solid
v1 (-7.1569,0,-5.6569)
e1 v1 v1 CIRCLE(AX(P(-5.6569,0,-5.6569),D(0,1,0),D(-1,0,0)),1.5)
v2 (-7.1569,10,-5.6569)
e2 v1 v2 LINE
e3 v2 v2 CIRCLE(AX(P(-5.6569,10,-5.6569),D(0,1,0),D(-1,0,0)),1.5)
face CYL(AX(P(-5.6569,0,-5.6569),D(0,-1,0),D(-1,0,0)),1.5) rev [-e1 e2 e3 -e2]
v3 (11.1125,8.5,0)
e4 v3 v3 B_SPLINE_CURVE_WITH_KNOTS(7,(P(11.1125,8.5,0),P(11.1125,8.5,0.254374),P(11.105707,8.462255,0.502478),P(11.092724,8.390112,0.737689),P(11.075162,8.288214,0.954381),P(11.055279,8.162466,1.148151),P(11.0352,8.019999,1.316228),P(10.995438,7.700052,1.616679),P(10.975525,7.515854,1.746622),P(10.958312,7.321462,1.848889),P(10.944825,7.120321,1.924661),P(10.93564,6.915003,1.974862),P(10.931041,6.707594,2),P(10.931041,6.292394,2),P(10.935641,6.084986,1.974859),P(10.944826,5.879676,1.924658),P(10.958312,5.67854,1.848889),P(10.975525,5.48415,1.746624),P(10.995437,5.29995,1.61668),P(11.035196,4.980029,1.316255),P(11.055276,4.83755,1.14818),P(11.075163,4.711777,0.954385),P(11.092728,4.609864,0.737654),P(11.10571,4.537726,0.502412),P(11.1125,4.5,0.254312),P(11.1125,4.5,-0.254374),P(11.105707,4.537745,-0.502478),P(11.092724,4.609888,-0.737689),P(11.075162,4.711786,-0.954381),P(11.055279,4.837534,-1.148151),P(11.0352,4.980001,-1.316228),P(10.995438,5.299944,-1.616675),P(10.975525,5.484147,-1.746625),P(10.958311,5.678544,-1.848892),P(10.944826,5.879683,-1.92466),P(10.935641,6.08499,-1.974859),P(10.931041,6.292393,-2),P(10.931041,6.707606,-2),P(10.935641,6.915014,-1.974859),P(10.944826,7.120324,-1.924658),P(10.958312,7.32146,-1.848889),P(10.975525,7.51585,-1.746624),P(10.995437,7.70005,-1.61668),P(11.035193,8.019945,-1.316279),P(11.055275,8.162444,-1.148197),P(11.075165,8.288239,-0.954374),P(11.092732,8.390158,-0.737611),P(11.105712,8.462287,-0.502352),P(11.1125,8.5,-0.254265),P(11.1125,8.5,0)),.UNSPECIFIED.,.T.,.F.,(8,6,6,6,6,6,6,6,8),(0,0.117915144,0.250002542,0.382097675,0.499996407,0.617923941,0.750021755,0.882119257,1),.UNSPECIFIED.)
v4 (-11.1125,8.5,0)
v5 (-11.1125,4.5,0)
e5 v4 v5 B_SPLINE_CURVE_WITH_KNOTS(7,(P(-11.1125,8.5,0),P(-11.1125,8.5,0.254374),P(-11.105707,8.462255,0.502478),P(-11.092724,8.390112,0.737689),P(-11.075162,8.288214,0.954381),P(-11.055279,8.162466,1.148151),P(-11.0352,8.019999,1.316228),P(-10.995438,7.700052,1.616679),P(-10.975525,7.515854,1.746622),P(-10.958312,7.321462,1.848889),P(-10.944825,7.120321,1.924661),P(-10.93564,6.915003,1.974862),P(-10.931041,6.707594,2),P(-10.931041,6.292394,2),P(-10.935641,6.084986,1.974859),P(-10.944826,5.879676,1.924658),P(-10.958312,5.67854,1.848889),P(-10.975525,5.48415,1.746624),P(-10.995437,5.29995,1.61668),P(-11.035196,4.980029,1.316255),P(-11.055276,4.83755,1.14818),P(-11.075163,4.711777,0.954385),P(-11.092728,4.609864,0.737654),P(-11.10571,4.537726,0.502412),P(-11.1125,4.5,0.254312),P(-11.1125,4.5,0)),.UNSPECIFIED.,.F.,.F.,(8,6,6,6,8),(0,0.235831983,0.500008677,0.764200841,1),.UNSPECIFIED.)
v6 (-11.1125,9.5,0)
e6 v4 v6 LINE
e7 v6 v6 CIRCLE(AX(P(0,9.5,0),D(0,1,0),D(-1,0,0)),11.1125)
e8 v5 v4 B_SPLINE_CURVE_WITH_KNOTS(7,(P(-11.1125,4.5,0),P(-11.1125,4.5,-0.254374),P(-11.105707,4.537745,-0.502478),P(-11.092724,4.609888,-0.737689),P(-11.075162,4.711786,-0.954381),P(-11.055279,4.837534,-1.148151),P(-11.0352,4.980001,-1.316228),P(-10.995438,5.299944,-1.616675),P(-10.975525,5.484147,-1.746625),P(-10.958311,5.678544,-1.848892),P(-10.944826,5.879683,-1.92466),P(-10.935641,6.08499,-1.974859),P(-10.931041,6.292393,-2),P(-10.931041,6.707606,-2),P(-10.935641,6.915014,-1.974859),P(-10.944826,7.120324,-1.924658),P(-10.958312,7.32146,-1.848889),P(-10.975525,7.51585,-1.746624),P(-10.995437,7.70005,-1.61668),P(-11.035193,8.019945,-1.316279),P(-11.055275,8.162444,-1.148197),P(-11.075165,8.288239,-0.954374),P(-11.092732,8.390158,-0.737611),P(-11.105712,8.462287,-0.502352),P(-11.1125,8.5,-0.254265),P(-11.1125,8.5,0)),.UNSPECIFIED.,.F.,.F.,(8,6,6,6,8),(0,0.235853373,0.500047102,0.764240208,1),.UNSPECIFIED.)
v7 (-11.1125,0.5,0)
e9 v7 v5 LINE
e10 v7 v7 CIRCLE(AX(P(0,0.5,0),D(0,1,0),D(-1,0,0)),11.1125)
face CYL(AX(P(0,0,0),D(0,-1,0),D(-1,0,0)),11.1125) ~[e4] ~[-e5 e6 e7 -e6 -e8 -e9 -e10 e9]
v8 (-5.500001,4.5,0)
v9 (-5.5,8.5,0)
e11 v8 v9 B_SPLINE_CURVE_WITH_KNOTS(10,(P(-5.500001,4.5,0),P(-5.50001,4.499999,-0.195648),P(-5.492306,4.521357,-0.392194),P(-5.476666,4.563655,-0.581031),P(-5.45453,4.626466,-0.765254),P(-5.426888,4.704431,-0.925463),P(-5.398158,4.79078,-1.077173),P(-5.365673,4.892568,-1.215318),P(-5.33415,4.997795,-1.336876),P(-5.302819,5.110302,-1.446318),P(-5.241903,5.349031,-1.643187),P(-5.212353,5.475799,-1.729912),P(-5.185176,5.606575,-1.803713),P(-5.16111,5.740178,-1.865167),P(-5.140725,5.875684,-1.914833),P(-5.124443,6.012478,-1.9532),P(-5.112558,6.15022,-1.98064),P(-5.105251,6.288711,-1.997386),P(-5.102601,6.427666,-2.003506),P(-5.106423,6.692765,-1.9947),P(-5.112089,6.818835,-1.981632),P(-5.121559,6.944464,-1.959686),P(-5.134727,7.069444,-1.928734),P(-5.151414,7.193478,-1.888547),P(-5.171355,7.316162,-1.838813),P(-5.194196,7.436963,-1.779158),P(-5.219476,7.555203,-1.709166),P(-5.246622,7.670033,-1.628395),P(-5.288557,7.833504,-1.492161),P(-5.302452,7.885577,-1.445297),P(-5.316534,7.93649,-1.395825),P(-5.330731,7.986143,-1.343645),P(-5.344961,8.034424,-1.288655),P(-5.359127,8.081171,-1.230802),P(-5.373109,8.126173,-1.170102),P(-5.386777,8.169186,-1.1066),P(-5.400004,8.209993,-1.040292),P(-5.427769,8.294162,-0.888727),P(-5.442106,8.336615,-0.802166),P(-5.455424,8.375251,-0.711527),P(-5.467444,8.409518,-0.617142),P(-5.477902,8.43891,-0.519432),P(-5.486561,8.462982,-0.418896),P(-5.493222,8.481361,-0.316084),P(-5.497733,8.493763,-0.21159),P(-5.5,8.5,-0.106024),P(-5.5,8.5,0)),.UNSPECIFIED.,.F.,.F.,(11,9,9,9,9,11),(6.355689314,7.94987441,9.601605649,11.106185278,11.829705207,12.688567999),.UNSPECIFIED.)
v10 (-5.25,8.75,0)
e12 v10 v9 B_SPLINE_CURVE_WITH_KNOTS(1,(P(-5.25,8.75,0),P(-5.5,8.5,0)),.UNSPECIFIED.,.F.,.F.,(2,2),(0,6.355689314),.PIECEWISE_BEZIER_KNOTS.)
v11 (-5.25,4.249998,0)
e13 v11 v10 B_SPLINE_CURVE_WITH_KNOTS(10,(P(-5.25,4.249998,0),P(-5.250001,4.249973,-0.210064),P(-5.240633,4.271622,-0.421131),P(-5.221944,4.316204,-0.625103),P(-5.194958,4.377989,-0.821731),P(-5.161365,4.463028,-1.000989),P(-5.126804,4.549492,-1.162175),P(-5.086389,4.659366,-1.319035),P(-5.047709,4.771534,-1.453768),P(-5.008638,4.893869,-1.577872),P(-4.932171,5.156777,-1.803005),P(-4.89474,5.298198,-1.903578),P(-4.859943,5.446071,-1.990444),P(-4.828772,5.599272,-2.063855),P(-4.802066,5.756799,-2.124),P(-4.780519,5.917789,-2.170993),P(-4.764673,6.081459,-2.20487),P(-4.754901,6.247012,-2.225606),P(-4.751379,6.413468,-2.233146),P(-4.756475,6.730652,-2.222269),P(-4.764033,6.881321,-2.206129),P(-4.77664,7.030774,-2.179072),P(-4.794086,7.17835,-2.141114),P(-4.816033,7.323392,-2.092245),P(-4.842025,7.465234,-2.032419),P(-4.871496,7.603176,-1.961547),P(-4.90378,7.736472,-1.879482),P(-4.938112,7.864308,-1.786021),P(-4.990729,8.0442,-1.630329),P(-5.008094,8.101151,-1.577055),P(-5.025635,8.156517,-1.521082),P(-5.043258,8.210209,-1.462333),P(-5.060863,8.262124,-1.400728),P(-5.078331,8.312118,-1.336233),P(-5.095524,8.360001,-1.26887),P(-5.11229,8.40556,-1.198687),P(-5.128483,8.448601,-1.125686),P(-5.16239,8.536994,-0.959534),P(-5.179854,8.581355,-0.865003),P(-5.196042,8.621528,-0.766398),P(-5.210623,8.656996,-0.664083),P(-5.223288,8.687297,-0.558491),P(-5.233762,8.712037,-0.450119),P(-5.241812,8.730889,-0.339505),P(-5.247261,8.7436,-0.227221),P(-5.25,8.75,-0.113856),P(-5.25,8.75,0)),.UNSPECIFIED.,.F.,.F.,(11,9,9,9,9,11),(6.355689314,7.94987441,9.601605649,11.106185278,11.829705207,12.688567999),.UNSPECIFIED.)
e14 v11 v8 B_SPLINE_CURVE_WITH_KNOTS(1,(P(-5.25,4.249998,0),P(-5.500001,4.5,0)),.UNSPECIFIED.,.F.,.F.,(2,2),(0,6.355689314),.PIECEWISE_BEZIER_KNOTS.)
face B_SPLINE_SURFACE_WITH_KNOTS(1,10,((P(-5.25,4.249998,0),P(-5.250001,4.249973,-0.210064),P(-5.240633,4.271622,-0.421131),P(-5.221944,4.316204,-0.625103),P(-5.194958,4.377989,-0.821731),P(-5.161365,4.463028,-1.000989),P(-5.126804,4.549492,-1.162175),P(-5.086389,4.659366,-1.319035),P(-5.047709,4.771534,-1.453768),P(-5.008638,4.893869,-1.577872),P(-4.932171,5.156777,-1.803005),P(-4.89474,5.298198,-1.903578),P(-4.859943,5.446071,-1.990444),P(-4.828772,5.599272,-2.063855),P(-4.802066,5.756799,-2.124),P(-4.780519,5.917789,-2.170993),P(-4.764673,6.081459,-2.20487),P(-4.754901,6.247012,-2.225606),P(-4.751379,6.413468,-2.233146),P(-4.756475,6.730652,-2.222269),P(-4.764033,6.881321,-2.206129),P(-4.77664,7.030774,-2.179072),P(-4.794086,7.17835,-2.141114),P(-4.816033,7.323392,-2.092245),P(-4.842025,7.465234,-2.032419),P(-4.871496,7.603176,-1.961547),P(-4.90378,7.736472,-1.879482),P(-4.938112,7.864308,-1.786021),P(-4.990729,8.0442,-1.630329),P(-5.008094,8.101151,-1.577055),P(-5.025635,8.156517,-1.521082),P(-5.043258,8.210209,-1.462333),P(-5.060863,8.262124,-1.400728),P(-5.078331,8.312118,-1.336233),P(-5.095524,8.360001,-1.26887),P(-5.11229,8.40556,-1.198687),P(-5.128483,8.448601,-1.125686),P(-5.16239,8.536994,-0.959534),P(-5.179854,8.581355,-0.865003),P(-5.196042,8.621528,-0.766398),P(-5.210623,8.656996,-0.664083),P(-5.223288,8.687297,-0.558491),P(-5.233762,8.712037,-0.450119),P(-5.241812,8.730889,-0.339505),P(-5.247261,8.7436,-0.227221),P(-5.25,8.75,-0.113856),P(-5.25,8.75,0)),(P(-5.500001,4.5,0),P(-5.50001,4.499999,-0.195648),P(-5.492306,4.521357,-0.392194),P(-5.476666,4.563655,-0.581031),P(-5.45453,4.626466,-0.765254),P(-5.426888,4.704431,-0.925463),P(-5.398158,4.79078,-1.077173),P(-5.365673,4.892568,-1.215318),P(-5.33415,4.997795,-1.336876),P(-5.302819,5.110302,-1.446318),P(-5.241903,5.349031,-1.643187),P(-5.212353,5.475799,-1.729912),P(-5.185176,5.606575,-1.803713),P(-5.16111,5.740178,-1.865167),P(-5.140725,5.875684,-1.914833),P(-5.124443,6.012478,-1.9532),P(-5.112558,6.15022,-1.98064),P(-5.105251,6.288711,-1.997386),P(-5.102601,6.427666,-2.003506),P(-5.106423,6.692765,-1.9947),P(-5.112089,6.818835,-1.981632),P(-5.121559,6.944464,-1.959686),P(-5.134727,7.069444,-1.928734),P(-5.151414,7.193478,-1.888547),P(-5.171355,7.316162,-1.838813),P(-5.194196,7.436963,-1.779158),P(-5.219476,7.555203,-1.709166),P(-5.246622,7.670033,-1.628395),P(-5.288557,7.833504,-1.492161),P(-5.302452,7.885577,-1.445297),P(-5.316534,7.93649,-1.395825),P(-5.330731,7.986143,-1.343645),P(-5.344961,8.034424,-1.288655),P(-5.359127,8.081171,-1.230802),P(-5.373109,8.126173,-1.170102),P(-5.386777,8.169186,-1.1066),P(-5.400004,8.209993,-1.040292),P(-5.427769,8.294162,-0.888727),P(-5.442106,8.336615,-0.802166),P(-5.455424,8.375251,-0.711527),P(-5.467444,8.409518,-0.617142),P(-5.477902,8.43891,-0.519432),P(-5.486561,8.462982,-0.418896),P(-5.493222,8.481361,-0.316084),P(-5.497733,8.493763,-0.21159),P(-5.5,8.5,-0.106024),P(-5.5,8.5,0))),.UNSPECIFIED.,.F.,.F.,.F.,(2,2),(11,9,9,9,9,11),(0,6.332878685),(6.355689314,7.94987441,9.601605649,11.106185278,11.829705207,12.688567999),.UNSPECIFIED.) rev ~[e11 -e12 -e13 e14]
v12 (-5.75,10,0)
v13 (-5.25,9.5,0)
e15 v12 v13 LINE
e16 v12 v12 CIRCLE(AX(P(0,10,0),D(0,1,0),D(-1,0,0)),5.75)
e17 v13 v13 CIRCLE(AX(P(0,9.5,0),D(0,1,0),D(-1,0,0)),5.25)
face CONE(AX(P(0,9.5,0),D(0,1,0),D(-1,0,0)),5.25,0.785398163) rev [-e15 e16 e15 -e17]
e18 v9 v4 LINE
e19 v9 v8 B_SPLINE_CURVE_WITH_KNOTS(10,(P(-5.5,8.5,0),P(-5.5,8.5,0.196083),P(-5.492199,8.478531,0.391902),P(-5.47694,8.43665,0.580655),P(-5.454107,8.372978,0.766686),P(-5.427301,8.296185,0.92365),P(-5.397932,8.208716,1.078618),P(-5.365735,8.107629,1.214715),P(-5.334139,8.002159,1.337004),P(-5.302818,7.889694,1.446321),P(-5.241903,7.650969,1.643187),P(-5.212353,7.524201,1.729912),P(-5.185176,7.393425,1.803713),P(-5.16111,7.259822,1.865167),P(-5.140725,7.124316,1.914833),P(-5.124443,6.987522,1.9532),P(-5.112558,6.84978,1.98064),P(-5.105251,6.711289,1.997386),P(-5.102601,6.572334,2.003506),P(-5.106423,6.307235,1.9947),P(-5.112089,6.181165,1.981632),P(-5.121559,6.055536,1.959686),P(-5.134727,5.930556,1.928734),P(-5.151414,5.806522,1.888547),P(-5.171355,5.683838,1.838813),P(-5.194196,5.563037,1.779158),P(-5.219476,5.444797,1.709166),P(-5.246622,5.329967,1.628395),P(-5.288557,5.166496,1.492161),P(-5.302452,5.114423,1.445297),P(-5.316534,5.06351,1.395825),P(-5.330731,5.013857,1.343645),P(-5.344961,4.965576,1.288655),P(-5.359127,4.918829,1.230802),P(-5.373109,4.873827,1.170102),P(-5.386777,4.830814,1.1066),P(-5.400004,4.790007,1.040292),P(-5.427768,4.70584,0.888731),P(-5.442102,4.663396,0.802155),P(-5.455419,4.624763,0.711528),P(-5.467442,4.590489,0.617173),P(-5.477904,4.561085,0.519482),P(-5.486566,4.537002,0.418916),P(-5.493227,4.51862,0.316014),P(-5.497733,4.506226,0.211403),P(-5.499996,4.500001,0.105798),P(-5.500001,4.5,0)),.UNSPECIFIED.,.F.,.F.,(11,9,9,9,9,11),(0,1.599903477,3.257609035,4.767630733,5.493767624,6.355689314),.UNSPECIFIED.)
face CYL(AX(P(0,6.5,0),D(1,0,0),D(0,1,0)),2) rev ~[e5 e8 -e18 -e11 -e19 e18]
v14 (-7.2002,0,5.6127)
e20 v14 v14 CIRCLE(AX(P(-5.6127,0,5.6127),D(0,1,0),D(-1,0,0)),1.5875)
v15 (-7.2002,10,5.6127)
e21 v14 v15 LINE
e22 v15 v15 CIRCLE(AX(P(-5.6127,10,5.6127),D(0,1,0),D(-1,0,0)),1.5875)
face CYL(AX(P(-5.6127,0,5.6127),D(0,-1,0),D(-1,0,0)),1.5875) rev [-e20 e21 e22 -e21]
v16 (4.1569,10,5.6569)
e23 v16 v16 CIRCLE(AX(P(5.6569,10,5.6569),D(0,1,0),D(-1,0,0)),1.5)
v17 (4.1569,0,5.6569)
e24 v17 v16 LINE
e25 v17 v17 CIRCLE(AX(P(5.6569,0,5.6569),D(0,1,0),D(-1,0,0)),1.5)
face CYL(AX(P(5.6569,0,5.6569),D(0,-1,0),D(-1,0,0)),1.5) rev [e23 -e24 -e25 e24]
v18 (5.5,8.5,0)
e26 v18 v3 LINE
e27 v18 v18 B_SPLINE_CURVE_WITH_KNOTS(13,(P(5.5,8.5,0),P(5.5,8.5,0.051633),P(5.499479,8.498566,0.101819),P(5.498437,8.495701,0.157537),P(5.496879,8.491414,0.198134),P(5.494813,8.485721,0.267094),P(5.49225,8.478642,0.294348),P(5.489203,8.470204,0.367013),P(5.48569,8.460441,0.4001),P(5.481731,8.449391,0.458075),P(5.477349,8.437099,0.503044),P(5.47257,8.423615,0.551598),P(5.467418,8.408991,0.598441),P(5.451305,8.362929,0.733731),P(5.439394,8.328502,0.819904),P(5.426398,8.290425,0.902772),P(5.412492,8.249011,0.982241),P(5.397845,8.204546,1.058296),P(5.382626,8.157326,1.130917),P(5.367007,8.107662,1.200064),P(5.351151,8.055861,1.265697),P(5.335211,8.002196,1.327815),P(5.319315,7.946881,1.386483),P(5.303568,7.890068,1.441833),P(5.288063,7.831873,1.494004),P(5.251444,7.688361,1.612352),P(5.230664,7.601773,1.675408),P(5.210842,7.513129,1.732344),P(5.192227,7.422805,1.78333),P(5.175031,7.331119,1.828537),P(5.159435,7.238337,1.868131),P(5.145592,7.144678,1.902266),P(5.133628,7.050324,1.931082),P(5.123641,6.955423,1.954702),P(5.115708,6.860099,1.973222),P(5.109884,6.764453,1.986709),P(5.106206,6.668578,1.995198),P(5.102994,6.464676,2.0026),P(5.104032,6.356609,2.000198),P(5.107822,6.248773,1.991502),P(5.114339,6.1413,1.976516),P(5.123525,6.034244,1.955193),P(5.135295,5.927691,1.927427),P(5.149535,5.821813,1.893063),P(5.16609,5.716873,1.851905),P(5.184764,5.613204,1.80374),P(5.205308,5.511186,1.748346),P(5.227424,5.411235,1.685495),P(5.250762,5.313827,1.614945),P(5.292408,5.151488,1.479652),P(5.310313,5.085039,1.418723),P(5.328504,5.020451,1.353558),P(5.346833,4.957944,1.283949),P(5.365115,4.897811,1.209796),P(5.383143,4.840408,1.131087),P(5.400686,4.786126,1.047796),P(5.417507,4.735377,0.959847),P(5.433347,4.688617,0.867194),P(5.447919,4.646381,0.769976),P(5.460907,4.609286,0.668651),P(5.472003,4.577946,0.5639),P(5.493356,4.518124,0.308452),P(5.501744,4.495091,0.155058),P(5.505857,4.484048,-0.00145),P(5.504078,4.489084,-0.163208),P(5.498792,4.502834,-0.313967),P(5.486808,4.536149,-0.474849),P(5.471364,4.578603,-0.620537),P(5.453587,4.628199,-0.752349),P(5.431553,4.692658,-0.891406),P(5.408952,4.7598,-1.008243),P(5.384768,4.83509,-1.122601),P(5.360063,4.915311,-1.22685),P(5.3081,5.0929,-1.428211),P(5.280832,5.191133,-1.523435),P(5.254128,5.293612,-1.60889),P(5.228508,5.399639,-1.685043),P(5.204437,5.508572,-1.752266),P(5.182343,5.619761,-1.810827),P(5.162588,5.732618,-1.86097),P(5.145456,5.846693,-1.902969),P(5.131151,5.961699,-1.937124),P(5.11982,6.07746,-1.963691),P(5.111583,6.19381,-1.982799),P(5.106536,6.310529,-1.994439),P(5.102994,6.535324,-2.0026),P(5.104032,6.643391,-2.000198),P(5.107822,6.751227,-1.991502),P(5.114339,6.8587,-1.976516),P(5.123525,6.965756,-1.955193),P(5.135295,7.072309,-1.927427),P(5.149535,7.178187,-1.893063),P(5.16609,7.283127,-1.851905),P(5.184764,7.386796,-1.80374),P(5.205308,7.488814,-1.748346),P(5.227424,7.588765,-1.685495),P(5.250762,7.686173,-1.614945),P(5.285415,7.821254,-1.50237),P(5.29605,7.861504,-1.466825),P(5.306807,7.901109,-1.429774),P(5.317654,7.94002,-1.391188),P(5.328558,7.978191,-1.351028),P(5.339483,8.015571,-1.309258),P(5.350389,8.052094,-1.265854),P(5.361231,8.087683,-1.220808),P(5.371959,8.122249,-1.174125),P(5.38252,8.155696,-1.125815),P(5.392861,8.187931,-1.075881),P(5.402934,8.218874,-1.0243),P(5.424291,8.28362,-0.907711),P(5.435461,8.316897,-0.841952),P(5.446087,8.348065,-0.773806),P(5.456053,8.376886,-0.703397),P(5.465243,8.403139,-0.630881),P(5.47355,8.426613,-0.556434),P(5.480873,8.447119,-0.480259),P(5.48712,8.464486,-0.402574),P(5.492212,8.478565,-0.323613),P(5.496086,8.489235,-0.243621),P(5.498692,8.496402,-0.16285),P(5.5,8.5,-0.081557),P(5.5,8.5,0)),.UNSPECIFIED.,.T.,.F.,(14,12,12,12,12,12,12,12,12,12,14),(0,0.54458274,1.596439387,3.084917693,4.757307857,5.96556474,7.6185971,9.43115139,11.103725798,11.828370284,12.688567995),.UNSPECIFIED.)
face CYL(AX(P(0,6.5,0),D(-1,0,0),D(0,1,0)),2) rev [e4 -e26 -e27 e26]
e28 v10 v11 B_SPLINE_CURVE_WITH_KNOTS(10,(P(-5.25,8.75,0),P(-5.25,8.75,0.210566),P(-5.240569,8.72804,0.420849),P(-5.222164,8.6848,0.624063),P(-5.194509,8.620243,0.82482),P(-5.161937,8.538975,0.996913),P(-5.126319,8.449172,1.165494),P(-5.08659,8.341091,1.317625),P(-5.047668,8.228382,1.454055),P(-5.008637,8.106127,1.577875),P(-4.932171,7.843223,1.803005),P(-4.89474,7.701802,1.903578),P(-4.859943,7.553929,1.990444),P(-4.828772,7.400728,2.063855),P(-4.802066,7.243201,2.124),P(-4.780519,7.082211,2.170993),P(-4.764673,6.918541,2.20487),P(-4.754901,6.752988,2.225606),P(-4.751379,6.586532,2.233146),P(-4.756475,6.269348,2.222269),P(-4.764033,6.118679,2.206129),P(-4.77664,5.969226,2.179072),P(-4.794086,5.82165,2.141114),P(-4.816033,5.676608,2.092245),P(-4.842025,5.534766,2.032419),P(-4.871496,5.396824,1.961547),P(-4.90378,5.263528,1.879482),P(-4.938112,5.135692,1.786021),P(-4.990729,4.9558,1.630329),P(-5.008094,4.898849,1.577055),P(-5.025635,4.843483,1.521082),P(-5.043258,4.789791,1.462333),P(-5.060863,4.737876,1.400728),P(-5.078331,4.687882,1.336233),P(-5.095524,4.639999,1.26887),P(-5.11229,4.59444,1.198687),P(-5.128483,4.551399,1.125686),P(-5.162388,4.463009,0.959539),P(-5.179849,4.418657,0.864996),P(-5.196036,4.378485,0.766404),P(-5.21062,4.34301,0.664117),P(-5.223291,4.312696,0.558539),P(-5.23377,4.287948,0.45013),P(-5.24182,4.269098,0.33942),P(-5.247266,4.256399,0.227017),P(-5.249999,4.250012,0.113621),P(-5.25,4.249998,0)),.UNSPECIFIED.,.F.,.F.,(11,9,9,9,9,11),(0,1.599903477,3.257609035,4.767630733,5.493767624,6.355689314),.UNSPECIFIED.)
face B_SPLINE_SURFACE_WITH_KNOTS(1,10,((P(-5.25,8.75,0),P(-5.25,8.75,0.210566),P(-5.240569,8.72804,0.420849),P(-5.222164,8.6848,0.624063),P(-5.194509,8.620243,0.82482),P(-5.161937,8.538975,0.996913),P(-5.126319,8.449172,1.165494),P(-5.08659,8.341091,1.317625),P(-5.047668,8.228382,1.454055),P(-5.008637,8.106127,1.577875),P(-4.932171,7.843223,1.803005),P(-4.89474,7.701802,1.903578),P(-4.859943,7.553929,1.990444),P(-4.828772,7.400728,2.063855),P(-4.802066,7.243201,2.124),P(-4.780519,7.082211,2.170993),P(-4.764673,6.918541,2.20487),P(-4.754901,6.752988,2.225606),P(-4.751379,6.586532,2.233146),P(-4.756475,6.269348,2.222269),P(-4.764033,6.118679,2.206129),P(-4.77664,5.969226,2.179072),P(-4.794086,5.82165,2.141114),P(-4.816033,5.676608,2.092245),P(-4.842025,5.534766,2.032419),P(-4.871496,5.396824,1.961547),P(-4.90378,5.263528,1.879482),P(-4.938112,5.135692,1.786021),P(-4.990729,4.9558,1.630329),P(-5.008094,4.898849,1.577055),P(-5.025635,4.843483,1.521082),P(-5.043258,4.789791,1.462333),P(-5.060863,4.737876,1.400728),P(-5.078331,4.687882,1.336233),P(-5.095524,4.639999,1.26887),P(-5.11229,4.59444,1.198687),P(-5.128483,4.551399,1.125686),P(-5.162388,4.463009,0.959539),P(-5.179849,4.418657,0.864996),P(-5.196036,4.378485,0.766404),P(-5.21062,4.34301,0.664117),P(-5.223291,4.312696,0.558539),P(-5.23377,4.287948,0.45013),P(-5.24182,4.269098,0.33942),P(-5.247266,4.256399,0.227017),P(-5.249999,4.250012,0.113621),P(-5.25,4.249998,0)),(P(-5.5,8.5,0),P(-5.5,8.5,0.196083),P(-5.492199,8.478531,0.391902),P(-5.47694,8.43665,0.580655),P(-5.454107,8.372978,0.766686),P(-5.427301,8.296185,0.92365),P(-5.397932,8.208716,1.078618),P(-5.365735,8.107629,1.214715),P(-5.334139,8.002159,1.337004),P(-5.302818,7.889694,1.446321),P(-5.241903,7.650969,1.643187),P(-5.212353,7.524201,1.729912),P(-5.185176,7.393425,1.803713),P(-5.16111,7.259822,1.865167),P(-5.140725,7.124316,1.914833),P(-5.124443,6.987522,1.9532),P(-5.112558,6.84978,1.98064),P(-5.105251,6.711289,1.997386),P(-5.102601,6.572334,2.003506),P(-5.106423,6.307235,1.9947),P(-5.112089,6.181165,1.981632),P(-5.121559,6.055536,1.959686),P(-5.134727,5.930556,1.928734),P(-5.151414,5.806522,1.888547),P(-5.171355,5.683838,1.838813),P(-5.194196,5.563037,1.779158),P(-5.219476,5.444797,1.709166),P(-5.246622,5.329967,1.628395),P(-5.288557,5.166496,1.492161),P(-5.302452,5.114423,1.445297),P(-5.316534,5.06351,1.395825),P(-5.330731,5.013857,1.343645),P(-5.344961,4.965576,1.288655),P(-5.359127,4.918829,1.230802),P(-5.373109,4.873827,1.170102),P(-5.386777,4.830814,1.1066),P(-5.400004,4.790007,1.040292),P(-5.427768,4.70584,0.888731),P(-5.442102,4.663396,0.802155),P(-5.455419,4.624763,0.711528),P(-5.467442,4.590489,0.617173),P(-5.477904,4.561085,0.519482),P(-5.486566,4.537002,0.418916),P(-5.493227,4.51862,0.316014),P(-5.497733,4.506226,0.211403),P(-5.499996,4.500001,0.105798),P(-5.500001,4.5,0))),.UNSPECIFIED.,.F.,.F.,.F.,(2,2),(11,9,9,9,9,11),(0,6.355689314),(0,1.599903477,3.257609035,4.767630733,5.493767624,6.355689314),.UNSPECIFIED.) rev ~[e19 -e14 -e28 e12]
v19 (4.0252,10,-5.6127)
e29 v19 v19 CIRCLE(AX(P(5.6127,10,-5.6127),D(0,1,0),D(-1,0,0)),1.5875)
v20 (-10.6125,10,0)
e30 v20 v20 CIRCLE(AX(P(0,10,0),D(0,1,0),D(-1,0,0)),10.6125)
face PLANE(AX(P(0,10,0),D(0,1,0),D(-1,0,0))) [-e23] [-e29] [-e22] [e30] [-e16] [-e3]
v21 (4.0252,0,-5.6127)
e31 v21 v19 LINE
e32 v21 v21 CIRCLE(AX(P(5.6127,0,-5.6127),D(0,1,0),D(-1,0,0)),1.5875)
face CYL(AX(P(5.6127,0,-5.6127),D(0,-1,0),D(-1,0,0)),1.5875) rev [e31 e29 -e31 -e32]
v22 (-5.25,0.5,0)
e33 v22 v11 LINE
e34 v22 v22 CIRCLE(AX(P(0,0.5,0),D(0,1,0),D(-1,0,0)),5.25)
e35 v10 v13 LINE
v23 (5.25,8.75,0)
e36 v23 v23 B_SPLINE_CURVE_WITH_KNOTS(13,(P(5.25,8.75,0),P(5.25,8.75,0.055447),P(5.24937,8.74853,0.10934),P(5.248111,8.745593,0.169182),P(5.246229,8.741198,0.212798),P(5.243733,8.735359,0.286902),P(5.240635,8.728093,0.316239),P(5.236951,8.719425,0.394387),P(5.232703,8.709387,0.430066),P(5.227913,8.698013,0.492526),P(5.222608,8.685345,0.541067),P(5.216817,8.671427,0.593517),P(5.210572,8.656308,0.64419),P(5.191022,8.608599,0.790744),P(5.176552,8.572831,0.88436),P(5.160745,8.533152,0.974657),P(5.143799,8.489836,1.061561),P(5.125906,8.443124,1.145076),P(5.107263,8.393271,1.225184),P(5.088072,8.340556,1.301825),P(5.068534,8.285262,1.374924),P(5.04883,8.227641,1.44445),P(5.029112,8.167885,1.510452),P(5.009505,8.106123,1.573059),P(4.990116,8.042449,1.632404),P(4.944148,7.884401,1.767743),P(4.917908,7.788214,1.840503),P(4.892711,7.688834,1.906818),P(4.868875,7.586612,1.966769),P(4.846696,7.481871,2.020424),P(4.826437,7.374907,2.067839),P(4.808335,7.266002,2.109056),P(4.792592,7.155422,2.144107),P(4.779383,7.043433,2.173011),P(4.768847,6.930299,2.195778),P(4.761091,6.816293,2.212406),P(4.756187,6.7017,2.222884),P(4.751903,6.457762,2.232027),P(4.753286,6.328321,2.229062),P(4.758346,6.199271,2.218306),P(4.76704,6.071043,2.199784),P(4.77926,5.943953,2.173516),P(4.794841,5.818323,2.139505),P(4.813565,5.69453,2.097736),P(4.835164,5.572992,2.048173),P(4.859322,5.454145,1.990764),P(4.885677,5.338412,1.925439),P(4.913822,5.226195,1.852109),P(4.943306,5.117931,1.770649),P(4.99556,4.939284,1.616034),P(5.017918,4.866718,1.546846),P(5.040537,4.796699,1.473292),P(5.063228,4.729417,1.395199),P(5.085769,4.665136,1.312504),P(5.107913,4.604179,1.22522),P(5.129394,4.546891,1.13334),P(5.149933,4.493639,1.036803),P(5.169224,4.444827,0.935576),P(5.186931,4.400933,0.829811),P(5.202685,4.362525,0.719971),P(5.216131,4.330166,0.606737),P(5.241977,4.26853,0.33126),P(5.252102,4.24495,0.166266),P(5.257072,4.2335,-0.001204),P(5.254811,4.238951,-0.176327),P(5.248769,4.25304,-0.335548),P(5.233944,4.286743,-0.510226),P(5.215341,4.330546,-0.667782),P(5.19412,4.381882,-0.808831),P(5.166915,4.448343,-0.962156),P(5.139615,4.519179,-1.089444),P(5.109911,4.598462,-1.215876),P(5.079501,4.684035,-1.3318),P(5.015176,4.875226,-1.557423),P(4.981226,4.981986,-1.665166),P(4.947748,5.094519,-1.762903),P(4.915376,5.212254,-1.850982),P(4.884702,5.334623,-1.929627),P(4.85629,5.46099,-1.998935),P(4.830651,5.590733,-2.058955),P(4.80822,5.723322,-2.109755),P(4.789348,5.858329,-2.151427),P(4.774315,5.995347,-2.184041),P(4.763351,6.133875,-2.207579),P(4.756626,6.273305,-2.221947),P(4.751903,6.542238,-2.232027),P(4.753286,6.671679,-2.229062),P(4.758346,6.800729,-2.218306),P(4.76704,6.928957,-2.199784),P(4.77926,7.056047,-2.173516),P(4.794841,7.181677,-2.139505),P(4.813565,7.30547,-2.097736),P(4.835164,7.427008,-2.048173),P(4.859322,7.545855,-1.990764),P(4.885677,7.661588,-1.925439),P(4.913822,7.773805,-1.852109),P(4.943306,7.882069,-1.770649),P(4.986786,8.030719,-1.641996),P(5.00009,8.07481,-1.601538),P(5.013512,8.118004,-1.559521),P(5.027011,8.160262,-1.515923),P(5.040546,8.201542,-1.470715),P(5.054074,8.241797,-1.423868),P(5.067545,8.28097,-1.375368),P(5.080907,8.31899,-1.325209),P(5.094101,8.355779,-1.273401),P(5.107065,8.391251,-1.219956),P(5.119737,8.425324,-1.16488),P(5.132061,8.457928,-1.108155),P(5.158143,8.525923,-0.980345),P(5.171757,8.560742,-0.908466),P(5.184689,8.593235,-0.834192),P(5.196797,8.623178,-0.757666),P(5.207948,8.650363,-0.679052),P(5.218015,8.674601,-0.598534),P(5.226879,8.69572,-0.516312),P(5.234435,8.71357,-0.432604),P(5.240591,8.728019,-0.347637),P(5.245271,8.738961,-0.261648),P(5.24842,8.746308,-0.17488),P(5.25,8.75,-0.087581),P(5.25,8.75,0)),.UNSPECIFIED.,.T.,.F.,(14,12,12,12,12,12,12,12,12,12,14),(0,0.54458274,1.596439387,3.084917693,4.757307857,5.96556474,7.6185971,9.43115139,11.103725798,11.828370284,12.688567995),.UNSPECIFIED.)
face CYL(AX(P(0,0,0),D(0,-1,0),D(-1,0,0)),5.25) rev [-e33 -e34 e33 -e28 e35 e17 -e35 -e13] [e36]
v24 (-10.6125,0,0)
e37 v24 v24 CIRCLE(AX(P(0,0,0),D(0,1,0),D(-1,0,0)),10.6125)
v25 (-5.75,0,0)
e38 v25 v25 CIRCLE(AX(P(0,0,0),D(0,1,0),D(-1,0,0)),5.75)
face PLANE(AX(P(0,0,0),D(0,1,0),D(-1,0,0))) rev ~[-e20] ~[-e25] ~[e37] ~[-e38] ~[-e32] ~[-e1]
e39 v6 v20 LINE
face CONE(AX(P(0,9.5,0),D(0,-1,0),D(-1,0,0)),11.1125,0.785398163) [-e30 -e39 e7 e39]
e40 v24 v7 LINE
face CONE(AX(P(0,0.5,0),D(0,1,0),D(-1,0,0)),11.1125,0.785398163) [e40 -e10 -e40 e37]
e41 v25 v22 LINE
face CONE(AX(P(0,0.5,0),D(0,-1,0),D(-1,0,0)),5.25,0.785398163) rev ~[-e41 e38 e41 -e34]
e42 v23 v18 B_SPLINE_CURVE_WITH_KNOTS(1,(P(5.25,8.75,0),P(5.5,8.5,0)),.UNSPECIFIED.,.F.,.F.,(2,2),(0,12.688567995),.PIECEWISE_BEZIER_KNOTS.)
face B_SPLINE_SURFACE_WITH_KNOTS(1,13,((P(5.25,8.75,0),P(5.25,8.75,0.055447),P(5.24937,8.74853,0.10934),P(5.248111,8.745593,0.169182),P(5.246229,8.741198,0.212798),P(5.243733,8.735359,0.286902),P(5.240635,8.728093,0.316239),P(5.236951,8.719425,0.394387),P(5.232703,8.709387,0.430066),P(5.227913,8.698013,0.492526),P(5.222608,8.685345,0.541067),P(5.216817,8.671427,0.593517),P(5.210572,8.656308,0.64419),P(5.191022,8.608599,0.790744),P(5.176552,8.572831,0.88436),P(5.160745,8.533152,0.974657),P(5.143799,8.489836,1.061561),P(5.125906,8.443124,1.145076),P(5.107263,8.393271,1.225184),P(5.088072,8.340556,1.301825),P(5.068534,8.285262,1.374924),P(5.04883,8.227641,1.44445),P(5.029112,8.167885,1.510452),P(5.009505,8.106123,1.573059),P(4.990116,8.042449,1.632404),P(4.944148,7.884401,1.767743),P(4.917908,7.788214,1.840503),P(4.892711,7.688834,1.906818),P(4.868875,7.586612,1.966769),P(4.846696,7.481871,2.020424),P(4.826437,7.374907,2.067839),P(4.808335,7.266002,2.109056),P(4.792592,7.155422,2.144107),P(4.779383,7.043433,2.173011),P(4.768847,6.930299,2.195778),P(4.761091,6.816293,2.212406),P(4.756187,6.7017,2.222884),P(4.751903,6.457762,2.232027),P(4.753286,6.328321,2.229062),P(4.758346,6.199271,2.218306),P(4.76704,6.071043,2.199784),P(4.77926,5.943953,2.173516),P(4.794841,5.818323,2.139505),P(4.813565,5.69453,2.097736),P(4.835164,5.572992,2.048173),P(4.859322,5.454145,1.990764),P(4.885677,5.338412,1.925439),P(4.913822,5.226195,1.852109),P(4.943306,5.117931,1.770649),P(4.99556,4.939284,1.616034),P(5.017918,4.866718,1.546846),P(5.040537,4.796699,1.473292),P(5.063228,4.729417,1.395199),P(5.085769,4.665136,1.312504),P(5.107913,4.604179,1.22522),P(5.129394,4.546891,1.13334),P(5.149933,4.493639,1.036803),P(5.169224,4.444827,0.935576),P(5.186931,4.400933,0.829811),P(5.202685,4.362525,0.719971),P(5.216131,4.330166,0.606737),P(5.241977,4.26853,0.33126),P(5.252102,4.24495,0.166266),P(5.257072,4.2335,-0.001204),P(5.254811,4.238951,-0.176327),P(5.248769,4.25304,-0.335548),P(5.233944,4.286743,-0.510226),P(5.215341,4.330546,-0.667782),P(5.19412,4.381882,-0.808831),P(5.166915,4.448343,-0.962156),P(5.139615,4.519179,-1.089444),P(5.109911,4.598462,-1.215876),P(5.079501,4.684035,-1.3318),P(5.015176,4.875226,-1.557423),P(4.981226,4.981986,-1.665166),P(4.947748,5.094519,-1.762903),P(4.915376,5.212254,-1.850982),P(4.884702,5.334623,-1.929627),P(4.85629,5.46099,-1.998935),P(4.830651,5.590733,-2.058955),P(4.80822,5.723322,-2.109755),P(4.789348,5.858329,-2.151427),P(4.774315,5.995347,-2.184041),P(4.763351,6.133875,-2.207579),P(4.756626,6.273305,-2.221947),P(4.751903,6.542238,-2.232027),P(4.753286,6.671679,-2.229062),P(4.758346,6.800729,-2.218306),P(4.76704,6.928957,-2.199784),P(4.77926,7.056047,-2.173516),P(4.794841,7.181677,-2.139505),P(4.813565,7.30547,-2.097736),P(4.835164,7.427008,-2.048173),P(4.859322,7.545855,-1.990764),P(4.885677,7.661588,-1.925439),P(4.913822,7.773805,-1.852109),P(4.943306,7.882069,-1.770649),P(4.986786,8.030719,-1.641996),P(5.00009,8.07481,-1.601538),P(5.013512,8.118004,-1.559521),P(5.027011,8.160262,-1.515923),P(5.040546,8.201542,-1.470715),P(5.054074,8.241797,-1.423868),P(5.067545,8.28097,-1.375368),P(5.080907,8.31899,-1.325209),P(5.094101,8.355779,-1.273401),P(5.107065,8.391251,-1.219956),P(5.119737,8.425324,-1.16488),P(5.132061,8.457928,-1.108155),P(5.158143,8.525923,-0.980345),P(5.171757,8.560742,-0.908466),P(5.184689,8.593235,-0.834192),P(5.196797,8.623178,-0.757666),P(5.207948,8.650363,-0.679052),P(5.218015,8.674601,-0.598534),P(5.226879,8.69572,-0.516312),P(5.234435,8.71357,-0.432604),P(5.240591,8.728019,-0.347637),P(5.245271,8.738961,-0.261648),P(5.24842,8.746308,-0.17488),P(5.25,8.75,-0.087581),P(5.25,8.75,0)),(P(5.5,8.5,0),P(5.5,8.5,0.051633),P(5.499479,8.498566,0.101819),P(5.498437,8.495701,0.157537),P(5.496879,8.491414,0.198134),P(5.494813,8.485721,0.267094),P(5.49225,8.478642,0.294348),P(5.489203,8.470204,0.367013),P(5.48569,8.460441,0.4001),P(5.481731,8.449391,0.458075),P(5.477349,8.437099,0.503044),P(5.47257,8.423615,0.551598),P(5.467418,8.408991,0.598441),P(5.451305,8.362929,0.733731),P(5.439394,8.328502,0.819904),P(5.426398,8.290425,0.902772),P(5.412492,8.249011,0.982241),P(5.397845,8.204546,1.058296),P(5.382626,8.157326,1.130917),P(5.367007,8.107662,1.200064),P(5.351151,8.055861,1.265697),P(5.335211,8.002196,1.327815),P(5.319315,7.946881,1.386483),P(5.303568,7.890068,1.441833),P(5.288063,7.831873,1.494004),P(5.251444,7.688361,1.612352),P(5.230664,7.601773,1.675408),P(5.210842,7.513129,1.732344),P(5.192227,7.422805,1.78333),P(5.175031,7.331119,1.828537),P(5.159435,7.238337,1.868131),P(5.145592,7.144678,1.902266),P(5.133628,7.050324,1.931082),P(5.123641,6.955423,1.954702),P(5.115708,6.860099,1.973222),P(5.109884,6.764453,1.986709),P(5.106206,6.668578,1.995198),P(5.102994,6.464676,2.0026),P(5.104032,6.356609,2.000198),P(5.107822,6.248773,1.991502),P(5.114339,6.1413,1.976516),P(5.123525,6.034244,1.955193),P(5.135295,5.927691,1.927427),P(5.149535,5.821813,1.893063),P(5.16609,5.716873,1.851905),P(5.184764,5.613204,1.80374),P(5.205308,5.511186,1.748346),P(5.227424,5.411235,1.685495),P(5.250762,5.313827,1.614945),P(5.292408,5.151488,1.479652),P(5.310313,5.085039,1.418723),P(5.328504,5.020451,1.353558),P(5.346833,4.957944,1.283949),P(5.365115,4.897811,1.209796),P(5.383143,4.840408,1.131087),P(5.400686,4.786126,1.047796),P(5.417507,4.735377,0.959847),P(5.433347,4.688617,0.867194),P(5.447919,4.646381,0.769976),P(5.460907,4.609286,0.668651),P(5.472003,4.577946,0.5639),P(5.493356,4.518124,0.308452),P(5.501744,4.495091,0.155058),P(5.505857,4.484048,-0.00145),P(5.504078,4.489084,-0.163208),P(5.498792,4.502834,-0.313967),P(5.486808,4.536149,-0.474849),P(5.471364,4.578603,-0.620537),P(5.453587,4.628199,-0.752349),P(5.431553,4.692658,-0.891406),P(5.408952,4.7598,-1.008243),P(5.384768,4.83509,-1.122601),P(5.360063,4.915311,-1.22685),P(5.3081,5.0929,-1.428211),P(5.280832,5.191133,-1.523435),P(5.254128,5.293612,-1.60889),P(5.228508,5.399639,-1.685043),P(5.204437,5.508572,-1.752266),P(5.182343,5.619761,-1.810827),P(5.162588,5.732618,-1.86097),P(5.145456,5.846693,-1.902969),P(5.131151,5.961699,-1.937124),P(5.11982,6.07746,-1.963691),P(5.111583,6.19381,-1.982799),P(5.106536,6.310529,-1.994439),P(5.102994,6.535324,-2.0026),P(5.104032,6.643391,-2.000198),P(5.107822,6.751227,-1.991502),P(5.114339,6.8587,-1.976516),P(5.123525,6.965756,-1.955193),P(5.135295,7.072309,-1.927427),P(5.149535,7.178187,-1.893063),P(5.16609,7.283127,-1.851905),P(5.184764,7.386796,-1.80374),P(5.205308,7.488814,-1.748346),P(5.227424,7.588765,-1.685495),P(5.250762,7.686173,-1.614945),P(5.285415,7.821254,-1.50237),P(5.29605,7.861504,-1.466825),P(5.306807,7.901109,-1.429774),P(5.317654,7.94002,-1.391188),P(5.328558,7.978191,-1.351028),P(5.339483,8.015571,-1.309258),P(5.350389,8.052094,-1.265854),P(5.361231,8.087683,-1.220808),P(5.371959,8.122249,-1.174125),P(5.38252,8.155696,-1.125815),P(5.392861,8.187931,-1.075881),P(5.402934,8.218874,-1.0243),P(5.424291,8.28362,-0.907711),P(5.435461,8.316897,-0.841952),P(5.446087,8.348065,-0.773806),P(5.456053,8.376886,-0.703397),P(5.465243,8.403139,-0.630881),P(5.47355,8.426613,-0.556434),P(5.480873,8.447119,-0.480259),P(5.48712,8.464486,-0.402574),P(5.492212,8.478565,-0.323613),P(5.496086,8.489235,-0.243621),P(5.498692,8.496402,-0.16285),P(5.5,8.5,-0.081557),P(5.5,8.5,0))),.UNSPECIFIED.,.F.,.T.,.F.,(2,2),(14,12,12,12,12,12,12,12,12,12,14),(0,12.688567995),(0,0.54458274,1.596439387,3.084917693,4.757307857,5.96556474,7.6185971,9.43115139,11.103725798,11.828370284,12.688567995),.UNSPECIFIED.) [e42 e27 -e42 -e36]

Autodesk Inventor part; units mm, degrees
ref_plane "YZ Plane" through (0, 0, 0) normal (1, 0, 0) x (0, 1, 0)
ref_plane "XZ Plane" through (0, 0, 0) normal (0, 1, 0) x (-1, 0, 0)
ref_plane "XY Plane" through (0, 0, 0) normal (0, 0, 1) x (1, 0, 0)
sketch "Sketch1" plane through (0, 0, 0) normal (0, 1, 0) x (-1, 0, 0)
  circle A0 centre (0, 0) radius 11.1125
  circle A1 centre (0, 0) radius 8 construction
  line L0 (0, 0) -> (0, -8) construction
  line L1 (0, 0) -> (5.6569, -5.6569) construction
  circle A2 centre (5.6569, -5.6569) radius 1.5
  circle A3 centre (-5.6569, 5.6569) radius 1.5
  circle A4 centre (0, 0) radius 5.25
  circle A5 centre (0, 0) radius 7.9375 construction
  line L2 (0, 0) -> (-5.6127, -5.6127) construction
  circle A6 centre (-5.6127, -5.6127) radius 1.5875
  circle A7 centre (5.6127, 5.6127) radius 1.5875
  dimension "d21" = 15.875
  dimension "d0" = 22.225
  dimension "d1" = 16
  dimension "d2" = 45
  dimension "d3" = 3
  dimension "d6" = 360
  dimension "d8" = 10.5
  dimension "d22" = 3.175
  dimension "d25" = 360
extrude "Extrusion1" add sketch "Sketch1" along normal blind 10
sketch "Sketch2" plane through (0, 0, 0) normal (1, 0, 0) x (0, 1, 0)
  line L0 (10, -11.1125) -> (10, 11.1125) projected
  line L1 (10, 0) -> (0, 0) construction
  circle A0 centre (6.5, 0) radius 2
  line L2 (0, -11.1125) -> (0, 11.1125) projected
  dimension "d11" = 4
  dimension "d12" = 6.5
extrude "Extrusion2" cut sketch "Sketch2" along normal through all both and the other way through all
chamfer "Chamfer1" distance 0.5 angle 45 2 edges at (5.25, 0, 0) (5.25, 10, 0)
chamfer "Chamfer2" distance 0.5 angle 45 2 edges at (11.1125, 10, 0) (11.1125, 0, 0)
chamfer "Chamfer3" distance 0.25 angle 45 3 edges at (-4.8541, 6.5004, 2) (-4.8541, 6.4996, -2) (5.25, 4.5, 0.0002)
properties part number "Hub Adapter" material "Nylon 6/6"
